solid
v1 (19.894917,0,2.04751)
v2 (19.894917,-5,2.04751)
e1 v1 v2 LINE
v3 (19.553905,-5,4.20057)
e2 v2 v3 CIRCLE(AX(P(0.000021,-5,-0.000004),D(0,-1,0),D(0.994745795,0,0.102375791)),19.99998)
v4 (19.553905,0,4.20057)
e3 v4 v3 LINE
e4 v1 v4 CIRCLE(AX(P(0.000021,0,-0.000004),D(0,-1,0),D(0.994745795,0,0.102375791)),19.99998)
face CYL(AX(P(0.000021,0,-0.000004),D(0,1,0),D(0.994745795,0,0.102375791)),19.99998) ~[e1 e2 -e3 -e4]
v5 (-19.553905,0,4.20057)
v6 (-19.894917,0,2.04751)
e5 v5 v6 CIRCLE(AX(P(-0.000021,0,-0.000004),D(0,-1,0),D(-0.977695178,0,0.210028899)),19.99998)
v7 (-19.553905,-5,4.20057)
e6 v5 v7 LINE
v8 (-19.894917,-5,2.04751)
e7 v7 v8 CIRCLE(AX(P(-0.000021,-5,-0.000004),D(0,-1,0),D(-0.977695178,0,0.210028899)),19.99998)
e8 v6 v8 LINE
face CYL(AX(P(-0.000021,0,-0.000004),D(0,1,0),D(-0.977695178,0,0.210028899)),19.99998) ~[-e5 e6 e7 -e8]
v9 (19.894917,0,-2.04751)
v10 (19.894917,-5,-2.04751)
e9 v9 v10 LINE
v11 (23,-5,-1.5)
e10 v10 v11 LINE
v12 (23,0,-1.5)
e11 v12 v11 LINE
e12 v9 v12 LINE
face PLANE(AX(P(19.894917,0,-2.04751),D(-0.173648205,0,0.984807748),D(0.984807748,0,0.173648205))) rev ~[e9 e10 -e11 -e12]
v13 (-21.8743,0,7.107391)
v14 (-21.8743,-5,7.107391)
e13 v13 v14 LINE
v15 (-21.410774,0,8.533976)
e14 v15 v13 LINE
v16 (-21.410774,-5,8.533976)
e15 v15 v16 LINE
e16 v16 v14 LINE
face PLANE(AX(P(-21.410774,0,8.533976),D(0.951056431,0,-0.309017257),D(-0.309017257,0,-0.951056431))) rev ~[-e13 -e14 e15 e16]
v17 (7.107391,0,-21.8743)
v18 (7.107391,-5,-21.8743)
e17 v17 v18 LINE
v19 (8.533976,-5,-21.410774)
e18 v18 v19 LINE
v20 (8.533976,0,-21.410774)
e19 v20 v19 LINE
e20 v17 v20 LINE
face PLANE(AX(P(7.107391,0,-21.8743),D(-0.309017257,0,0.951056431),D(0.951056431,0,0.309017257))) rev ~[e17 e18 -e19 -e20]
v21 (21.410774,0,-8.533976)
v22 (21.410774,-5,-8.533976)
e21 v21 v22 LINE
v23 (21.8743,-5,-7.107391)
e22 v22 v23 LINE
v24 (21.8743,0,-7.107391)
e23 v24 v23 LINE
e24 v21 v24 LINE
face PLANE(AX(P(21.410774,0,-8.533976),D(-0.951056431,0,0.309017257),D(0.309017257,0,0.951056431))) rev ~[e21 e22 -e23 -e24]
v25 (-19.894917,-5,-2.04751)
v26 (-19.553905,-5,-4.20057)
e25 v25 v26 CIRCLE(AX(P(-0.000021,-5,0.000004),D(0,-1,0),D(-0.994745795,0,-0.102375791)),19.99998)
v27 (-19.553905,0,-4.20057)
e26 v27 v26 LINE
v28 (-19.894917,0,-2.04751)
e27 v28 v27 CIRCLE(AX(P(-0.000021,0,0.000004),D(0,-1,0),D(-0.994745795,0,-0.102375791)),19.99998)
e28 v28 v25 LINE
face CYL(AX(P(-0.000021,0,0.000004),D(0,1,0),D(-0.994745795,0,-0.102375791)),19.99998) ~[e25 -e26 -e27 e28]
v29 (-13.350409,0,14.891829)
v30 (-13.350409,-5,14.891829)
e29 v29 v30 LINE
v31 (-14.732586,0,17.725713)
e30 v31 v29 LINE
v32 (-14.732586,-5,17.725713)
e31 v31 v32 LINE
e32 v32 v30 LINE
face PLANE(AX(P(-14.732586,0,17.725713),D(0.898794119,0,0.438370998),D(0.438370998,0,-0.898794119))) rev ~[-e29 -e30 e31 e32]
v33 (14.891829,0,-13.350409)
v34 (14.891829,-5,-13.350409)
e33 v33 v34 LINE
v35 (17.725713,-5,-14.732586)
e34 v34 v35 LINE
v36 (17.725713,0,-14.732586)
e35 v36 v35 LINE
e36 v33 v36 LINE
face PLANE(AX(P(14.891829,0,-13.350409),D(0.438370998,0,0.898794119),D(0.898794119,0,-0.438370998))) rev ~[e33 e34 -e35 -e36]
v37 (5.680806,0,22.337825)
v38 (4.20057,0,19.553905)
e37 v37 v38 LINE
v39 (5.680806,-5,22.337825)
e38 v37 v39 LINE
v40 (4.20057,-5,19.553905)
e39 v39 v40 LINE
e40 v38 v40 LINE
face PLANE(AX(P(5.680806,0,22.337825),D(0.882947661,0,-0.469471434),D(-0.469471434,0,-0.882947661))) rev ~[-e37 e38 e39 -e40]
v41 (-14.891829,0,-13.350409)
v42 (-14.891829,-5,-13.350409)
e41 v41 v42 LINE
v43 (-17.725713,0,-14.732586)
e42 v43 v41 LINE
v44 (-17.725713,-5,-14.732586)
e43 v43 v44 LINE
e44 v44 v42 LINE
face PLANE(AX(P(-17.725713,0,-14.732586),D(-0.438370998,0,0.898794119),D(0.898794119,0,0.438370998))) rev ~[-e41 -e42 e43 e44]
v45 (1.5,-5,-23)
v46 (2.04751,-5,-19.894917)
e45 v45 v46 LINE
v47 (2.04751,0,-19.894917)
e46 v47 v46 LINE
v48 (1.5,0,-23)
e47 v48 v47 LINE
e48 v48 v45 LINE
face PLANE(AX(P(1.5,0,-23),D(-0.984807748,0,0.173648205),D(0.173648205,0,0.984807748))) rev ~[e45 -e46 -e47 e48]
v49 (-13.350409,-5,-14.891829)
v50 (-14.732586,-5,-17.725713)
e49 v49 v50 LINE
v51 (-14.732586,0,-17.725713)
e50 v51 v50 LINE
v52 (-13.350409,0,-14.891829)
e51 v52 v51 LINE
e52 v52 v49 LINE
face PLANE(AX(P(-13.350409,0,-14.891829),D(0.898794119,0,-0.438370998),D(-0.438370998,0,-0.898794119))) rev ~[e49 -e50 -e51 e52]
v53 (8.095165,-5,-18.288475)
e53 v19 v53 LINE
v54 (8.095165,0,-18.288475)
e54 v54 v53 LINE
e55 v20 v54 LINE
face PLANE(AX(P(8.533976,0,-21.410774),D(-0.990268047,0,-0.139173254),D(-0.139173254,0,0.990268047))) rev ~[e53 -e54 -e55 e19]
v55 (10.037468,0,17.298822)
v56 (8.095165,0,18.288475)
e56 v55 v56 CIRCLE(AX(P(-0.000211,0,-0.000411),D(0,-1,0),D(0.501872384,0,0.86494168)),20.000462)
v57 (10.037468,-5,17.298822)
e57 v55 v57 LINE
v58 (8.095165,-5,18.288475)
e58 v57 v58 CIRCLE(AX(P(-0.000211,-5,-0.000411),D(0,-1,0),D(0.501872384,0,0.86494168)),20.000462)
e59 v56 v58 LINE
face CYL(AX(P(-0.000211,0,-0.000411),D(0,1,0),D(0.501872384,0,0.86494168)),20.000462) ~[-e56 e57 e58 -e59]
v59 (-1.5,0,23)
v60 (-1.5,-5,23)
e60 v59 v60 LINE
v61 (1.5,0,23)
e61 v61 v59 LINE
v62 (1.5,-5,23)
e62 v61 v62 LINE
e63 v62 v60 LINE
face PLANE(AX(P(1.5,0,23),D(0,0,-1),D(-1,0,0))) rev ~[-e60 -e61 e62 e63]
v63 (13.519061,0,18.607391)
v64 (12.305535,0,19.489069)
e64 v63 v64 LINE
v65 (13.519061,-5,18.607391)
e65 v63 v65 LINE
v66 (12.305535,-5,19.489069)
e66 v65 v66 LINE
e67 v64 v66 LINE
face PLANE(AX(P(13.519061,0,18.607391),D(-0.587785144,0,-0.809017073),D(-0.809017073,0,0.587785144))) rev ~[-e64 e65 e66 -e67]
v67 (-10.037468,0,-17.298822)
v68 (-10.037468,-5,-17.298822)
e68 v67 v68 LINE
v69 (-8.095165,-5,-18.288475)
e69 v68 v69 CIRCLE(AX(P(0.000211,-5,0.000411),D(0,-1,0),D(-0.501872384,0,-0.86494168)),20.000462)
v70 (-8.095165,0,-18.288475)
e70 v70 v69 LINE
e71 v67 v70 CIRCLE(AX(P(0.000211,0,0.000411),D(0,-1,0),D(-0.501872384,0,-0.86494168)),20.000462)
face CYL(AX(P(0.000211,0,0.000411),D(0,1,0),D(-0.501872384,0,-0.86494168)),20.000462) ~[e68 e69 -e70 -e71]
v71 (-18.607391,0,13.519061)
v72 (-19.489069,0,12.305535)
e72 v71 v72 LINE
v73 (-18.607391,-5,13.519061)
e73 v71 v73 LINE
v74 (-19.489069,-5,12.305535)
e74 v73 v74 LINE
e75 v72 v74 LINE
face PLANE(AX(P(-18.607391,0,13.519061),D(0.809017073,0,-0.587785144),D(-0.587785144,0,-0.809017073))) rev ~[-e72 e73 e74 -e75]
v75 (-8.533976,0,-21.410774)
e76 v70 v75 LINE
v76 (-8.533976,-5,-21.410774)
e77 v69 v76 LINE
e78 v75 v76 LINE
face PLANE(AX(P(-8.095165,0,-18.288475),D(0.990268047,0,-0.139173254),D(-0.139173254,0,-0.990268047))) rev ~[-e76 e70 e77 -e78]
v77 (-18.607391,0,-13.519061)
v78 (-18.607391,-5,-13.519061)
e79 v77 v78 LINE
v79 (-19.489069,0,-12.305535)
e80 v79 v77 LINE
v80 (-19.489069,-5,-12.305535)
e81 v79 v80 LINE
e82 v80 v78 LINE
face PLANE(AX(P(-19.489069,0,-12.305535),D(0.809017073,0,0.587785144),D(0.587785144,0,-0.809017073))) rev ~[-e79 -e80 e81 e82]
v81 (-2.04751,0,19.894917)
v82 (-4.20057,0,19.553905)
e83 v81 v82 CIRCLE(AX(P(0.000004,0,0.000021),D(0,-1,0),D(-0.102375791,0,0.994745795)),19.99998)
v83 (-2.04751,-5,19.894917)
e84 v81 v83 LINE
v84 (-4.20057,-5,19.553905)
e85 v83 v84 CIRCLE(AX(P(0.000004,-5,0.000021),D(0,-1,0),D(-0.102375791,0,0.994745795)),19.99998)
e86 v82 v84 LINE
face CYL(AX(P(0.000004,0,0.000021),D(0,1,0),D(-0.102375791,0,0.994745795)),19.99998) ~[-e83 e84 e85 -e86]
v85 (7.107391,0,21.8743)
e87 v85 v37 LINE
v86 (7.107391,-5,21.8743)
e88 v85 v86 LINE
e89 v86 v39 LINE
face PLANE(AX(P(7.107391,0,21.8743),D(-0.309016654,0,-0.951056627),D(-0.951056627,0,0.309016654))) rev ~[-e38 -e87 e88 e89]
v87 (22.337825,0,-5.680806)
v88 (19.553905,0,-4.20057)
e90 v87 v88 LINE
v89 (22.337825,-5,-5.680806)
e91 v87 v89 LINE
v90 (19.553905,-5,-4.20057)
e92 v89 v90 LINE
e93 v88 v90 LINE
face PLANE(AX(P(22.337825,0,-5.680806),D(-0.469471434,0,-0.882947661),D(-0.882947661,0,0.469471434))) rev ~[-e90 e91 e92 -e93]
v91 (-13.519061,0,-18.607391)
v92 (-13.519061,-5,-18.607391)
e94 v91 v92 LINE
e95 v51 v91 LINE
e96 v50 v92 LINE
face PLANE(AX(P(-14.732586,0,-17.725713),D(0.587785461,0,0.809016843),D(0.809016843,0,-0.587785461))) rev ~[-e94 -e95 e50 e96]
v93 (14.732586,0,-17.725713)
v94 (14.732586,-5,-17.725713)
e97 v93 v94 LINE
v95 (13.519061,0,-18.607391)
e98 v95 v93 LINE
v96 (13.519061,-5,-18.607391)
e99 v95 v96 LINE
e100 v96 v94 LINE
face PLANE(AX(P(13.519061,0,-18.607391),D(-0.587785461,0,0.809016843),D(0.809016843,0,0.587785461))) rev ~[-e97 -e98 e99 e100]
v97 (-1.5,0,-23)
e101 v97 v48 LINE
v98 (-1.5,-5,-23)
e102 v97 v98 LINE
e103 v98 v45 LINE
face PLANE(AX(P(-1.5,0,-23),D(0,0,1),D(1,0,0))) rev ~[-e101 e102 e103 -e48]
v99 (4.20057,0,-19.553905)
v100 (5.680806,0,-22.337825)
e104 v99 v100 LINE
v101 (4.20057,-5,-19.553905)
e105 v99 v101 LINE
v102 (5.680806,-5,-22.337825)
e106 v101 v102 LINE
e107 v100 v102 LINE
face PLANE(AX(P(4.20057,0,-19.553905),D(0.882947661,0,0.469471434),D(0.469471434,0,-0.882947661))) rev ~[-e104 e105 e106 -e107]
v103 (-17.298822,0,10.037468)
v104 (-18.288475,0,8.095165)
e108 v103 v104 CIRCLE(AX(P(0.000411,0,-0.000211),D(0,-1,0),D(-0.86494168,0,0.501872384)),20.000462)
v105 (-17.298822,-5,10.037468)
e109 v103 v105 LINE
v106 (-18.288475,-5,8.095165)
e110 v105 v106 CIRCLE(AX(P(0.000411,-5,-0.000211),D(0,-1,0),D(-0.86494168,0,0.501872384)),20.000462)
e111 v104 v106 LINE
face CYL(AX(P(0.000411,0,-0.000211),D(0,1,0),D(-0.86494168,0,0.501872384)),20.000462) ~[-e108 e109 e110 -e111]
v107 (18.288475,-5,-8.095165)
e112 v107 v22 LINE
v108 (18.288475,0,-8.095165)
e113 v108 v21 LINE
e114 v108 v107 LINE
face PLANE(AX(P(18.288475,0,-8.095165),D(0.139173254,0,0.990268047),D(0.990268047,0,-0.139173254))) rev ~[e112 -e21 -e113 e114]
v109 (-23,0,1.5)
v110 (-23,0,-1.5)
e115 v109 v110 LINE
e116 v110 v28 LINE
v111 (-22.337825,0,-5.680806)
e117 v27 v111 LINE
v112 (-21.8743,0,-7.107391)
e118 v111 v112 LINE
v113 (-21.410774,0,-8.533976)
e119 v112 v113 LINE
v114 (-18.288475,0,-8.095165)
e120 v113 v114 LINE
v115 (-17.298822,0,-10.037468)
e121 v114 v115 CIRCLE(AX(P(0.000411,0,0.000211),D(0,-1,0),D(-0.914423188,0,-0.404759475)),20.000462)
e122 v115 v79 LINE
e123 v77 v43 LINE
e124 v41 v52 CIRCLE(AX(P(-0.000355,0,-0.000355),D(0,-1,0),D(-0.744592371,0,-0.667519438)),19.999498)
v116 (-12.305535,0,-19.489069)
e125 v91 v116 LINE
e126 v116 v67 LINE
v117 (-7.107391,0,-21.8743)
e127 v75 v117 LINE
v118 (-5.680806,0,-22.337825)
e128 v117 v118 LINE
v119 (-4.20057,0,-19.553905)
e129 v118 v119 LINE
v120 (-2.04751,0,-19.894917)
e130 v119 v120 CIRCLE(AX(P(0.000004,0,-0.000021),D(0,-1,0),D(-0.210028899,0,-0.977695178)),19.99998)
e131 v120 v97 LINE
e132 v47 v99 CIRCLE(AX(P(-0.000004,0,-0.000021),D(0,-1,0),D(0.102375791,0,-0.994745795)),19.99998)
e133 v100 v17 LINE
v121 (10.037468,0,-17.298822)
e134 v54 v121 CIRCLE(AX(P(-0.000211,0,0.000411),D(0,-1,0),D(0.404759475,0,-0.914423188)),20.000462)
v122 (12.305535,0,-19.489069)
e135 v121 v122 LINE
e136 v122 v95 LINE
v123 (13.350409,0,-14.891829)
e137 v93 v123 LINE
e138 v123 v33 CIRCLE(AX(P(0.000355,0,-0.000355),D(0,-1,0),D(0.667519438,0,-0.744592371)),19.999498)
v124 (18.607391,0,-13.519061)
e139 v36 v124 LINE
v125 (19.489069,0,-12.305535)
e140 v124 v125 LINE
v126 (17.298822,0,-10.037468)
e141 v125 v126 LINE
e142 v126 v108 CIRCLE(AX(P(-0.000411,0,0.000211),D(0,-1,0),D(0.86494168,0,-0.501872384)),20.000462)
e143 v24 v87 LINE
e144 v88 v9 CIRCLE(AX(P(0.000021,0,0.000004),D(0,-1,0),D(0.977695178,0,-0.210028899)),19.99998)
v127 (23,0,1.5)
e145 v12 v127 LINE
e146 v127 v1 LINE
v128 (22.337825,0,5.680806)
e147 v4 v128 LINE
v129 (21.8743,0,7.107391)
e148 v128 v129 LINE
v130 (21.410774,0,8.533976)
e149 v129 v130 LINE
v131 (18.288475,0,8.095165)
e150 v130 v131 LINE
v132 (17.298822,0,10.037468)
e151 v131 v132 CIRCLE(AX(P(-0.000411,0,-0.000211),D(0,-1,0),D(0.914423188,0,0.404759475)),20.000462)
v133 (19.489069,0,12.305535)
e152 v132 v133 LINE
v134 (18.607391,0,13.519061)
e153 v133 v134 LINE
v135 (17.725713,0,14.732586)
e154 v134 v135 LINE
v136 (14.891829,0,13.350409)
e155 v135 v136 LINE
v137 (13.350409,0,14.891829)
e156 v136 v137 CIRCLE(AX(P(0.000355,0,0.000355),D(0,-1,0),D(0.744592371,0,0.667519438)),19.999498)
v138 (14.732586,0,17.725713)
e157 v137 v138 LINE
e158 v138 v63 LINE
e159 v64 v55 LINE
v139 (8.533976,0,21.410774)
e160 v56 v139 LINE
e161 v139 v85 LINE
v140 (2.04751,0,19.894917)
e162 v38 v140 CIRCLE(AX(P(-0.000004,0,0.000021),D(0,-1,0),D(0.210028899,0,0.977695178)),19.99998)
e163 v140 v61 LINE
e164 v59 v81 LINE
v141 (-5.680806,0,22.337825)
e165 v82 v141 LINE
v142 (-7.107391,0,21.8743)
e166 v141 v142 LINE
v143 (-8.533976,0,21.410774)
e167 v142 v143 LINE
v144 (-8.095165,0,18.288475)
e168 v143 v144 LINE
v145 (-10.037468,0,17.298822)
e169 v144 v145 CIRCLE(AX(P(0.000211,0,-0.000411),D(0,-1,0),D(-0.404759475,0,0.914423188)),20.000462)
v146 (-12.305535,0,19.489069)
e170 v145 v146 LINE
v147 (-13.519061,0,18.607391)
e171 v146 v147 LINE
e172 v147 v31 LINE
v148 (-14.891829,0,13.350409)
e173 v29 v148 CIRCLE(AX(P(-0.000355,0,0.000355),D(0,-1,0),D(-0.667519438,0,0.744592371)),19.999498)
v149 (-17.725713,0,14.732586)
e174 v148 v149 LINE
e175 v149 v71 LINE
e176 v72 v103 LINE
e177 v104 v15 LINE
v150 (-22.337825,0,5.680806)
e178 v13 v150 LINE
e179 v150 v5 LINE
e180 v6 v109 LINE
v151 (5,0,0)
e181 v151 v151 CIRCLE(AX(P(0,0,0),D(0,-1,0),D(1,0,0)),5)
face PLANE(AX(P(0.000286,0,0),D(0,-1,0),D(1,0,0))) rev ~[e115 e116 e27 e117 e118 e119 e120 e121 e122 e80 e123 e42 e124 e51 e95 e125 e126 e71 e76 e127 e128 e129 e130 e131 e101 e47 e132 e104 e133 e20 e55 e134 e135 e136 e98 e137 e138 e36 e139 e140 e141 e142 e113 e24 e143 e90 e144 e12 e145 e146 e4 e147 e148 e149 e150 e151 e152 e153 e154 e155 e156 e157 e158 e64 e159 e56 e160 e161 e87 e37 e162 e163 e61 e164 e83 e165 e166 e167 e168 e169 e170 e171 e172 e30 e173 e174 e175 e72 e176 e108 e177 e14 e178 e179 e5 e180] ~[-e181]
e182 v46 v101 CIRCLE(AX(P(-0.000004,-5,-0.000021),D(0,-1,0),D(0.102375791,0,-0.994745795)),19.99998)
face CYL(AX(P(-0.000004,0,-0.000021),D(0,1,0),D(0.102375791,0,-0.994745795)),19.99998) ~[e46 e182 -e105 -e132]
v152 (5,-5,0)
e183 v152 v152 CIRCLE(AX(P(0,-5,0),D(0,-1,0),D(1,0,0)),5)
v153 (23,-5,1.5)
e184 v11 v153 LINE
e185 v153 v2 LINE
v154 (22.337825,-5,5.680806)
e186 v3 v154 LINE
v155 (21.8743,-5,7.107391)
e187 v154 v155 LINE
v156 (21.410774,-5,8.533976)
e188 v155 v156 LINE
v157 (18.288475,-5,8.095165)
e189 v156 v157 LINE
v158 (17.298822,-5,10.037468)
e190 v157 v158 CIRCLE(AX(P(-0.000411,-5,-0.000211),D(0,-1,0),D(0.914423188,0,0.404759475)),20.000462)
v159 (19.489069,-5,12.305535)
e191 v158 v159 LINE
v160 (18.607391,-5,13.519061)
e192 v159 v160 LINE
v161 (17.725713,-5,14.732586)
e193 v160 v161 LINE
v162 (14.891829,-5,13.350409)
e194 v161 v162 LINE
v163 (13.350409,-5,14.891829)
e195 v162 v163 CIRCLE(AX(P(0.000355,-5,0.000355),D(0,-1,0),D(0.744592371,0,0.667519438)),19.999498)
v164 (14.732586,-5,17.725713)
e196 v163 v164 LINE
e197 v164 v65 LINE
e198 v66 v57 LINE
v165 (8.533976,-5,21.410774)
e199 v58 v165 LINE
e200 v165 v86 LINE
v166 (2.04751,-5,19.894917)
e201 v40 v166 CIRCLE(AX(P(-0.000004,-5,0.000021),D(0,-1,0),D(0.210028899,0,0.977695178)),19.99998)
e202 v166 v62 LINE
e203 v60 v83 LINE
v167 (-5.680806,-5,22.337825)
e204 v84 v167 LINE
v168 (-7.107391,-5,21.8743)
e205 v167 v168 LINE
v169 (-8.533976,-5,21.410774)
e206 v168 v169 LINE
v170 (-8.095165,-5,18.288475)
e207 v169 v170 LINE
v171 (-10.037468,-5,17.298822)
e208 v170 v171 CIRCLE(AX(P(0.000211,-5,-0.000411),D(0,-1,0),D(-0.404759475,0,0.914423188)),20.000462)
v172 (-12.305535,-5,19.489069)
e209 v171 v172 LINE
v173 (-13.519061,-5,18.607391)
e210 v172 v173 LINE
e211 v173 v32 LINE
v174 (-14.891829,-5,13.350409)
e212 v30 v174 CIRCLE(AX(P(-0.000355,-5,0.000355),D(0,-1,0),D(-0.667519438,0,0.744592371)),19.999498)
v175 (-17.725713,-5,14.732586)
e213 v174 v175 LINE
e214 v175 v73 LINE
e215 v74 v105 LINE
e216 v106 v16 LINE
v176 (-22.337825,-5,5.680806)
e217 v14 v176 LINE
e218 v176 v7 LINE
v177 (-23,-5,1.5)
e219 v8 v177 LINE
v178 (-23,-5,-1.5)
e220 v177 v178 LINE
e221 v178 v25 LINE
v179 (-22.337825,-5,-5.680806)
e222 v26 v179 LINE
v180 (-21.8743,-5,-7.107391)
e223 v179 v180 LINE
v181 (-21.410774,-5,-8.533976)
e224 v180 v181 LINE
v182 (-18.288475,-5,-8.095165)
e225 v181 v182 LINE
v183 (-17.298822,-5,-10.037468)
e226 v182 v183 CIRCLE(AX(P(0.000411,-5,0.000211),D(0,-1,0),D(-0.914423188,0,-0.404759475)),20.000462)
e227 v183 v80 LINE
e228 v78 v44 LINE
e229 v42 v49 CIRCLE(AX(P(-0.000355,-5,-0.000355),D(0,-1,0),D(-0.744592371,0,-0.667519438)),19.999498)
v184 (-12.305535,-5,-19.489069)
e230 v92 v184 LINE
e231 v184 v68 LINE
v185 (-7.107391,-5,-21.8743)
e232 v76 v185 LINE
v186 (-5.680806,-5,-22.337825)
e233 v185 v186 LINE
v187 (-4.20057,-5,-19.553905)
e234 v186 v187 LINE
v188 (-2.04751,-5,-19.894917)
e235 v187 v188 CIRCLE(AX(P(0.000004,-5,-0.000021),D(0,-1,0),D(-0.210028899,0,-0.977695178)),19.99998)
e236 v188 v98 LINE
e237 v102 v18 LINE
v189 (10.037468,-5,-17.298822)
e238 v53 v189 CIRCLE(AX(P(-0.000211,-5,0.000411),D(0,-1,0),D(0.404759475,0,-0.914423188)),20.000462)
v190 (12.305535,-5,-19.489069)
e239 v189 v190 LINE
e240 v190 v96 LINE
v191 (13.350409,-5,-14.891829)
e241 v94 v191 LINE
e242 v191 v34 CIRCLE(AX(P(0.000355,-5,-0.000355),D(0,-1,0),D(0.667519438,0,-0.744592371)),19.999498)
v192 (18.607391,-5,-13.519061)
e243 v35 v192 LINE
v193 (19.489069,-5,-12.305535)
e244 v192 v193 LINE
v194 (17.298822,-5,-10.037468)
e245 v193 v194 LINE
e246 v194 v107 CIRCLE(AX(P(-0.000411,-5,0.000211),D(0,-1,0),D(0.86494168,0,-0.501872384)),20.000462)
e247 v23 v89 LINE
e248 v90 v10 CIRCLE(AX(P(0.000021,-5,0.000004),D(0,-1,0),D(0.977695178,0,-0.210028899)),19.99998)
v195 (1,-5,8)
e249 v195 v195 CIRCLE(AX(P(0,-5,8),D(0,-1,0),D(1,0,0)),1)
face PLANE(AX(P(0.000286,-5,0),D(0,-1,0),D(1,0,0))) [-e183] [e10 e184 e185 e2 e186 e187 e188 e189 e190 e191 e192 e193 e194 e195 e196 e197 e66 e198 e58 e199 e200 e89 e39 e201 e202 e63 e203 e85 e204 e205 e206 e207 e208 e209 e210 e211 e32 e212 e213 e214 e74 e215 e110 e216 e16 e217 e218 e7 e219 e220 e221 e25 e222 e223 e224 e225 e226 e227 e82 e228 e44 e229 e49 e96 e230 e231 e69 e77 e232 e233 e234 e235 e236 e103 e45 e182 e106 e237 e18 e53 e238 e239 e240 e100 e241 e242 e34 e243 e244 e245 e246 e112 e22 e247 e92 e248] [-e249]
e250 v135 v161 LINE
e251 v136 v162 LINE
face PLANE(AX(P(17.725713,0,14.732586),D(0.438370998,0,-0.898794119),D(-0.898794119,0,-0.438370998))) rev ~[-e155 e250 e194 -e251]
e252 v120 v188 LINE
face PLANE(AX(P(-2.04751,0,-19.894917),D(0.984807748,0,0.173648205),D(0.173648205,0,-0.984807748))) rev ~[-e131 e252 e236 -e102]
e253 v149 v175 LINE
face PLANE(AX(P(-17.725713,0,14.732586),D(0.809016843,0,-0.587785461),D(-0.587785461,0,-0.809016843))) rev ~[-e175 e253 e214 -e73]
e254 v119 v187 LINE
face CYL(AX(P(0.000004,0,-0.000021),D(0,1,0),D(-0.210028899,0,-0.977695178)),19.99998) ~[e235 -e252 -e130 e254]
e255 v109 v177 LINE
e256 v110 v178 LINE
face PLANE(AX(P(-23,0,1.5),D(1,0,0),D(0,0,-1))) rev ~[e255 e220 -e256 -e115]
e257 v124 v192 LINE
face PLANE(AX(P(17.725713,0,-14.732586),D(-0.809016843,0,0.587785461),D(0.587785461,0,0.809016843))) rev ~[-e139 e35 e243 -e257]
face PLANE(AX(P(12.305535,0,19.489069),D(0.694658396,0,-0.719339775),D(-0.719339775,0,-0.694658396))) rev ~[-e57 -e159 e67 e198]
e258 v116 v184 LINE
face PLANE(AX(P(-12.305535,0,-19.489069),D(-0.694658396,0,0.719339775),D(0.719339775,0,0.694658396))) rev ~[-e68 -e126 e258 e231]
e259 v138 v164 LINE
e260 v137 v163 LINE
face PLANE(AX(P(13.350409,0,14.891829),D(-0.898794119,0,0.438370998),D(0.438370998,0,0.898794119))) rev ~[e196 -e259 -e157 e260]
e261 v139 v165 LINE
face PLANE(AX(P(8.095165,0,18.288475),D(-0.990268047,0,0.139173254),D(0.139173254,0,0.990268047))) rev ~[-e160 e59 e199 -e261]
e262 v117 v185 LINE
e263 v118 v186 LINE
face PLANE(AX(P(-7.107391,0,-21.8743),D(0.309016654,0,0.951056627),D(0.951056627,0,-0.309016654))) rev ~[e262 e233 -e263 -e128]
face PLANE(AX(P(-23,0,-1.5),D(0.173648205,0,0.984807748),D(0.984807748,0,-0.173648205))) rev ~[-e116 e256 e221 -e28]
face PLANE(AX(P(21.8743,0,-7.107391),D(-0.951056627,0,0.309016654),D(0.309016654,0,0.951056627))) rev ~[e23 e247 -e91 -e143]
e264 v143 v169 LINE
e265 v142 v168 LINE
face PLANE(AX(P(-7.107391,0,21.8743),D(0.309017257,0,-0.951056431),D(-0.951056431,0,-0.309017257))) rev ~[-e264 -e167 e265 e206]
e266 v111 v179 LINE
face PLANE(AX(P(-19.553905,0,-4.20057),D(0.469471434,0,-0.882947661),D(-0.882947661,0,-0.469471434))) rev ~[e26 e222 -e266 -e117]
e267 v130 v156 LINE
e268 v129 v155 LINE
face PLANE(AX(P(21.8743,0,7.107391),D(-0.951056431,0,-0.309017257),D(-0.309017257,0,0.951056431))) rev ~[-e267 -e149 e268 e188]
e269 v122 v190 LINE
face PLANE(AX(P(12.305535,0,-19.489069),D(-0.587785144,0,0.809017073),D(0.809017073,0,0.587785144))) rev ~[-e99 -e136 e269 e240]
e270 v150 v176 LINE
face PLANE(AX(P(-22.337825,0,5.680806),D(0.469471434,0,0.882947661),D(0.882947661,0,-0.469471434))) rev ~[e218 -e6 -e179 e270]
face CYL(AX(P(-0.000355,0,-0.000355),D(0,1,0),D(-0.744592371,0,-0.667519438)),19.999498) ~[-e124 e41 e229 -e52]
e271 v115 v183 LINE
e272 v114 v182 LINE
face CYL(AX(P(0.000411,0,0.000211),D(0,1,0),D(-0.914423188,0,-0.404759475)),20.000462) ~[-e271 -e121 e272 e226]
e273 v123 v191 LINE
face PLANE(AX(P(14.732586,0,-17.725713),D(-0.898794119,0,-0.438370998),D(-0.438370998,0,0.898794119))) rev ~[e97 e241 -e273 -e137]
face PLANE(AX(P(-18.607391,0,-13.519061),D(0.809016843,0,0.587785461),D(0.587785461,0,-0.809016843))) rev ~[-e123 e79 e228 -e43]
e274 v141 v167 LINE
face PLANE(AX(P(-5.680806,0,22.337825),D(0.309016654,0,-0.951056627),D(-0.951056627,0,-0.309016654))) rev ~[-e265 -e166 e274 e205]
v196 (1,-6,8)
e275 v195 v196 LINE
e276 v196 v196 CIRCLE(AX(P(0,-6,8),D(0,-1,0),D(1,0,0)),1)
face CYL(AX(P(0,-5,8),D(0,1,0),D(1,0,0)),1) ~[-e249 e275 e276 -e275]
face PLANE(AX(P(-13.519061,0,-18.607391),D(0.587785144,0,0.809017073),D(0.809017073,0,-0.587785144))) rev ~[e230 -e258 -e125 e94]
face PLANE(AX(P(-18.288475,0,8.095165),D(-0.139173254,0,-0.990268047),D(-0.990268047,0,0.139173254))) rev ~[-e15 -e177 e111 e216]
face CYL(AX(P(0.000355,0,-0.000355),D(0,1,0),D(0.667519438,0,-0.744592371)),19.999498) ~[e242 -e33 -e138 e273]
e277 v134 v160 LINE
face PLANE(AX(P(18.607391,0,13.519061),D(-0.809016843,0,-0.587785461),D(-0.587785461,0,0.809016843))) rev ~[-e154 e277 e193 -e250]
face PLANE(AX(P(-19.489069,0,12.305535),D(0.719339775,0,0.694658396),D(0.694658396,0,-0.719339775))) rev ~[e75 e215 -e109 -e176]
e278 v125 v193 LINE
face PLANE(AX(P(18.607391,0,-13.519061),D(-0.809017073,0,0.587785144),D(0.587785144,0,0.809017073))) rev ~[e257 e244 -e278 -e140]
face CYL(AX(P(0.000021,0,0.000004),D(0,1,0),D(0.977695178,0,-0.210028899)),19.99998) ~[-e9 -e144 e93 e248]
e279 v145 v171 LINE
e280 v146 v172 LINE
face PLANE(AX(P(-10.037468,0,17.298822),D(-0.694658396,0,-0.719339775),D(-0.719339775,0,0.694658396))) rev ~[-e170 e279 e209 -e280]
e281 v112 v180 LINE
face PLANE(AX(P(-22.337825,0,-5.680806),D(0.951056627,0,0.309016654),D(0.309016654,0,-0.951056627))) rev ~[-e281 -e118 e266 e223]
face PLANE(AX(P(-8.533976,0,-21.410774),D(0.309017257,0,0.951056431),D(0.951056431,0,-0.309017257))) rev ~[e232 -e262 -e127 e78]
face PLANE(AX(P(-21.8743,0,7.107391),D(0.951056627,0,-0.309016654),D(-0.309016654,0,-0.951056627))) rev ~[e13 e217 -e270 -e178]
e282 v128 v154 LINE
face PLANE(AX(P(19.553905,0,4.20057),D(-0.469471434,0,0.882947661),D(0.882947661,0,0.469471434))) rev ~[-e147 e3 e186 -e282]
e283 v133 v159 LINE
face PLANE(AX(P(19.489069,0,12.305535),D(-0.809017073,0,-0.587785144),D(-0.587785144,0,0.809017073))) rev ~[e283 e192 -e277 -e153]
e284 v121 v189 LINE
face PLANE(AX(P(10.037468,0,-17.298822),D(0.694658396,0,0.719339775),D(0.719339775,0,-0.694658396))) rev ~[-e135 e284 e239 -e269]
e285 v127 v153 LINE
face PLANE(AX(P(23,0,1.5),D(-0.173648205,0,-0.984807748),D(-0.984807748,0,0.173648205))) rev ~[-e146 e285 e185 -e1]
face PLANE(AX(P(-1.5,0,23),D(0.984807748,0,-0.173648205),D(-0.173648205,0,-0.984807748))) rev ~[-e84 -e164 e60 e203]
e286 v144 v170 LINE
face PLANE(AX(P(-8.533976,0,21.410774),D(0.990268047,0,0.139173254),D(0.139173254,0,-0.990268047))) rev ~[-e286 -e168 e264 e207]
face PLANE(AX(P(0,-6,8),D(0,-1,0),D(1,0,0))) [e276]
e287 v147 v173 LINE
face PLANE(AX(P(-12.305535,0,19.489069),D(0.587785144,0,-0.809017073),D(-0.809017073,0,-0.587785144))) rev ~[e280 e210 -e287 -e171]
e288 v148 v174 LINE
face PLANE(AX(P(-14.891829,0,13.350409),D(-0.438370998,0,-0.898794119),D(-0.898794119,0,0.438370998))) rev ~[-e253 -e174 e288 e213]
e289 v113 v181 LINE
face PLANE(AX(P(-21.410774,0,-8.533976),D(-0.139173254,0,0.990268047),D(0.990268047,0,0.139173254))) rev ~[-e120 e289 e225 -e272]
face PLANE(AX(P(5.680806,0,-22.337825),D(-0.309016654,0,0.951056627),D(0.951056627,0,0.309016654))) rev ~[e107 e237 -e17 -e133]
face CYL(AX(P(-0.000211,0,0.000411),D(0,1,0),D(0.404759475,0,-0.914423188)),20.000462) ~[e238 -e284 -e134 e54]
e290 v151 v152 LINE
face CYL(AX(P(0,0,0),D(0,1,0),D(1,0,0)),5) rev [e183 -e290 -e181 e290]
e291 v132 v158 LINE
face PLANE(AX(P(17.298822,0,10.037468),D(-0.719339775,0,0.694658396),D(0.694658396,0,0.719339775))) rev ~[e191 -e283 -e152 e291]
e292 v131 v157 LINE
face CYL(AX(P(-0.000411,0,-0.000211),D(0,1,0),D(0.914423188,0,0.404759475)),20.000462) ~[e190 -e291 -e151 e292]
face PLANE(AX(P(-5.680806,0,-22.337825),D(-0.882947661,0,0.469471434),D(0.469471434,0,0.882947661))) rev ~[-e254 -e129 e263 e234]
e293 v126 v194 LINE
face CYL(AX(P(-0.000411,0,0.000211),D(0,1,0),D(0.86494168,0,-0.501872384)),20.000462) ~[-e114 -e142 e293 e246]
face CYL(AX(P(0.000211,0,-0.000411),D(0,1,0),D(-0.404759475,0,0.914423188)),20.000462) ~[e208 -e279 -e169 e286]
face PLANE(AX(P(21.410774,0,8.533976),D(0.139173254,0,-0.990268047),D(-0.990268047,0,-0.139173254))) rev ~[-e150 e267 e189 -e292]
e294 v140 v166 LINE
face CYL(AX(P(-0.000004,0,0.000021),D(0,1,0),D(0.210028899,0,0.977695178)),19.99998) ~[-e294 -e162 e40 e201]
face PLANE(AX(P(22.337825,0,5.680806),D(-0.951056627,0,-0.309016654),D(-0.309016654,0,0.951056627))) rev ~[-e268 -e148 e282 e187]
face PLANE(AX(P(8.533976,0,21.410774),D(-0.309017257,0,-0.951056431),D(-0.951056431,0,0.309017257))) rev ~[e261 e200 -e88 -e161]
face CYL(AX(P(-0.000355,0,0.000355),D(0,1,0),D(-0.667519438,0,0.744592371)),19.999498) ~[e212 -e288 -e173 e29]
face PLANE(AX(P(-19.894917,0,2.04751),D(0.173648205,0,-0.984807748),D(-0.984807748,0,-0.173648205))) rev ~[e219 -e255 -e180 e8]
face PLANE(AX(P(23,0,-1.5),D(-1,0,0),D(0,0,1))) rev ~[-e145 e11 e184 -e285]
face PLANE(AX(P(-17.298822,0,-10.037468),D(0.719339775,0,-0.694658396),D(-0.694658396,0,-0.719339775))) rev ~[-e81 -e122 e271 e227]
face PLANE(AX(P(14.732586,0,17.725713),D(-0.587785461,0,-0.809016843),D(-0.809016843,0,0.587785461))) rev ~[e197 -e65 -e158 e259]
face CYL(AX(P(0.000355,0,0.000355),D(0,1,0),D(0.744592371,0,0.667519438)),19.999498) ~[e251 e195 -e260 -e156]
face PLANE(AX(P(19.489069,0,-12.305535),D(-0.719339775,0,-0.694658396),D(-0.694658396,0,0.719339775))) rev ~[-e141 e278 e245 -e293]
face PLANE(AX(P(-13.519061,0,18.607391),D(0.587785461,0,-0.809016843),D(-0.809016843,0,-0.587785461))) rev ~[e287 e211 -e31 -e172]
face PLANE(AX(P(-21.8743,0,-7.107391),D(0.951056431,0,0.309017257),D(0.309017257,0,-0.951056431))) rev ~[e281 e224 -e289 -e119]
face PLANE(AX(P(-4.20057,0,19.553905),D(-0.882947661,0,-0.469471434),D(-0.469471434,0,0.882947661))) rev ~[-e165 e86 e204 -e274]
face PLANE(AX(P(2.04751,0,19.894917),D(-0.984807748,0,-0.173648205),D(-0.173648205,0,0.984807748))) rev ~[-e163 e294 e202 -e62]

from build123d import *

# Parameters (mm, degrees)
F0_R     = 5
F1_DEPTH = 5
F2_R     = 1
F3_DEPTH = 1


with BuildPart() as f1:
    # F0 (on Front) → F1 (new body)
    with BuildSketch(Plane.XZ):
        with BuildLine():
            ThreePointArc((19.894917, -2.04751), (19.973712, -1.025102), (20, 0))
            ThreePointArc((20, 0), (19.973712, 1.025102), (19.894917, 2.04751))
            ThreePointArc((19.894917, 2.04751), (19.753767, 3.128689), (19.553905, 4.20057))
            ThreePointArc((19.553905, 4.20057), (19.02113, 6.18034), (18.288475, 8.095165))
            ThreePointArc((18.288475, 8.095165), (17.82013, 9.07981), (17.298822, 10.037468))
            ThreePointArc((17.298822, 10.037468), (16.18034, 11.755705), (14.891829, 13.350409))
            ThreePointArc((14.891829, 13.350409), (14.142136, 14.142136), (13.350409, 14.891829))
            ThreePointArc((13.350409, 14.891829), (11.755705, 16.18034), (10.037468, 17.298822))
            ThreePointArc((10.037468, 17.298822), (9.07981, 17.82013), (8.095165, 18.288475))
            ThreePointArc((8.095165, 18.288475), (6.18034, 19.02113), (4.20057, 19.553905))
            ThreePointArc((4.20057, 19.553905), (3.128689, 19.753767), (2.04751, 19.894917))
            ThreePointArc((2.04751, 19.894917), (0, 20), (-2.04751, 19.894917))
            ThreePointArc((-2.04751, 19.894917), (-3.128689, 19.753767), (-4.20057, 19.553905))
            ThreePointArc((-4.20057, 19.553905), (-6.18034, 19.02113), (-8.095165, 18.288475))
            ThreePointArc((-8.095165, 18.288475), (-9.07981, 17.82013), (-10.037468, 17.298822))
            ThreePointArc((-10.037468, 17.298822), (-11.755705, 16.18034), (-13.350409, 14.891829))
            ThreePointArc((-13.350409, 14.891829), (-14.142136, 14.142136), (-14.891829, 13.350409))
            ThreePointArc((-14.891829, 13.350409), (-16.18034, 11.755705), (-17.298822, 10.037468))
            ThreePointArc((-17.298822, 10.037468), (-17.82013, 9.07981), (-18.288475, 8.095165))
            ThreePointArc((-18.288475, 8.095165), (-19.02113, 6.18034), (-19.553905, 4.20057))
            ThreePointArc((-19.553905, 4.20057), (-19.753767, 3.128689), (-19.894917, 2.04751))
            ThreePointArc((-19.894917, 2.04751), (-20, 0), (-19.894917, -2.04751))
            ThreePointArc((-19.894917, -2.04751), (-19.753767, -3.128689), (-19.553905, -4.20057))
            ThreePointArc((-19.553905, -4.20057), (-19.02113, -6.18034), (-18.288475, -8.095165))
            ThreePointArc((-18.288475, -8.095165), (-17.82013, -9.07981), (-17.298822, -10.037468))
            ThreePointArc((-17.298822, -10.037468), (-16.18034, -11.755705), (-14.891829, -13.350409))
            ThreePointArc((-14.891829, -13.350409), (-14.142136, -14.142136), (-13.350409, -14.891829))
            ThreePointArc((-13.350409, -14.891829), (-11.755705, -16.18034), (-10.037468, -17.298822))
            ThreePointArc((-10.037468, -17.298822), (-9.07981, -17.82013), (-8.095165, -18.288475))
            ThreePointArc((-8.095165, -18.288475), (-6.18034, -19.02113), (-4.20057, -19.553905))
            ThreePointArc((-4.20057, -19.553905), (-3.128689, -19.753767), (-2.04751, -19.894917))
            ThreePointArc((-2.04751, -19.894917), (0, -20), (2.04751, -19.894917))
            ThreePointArc((2.04751, -19.894917), (3.128689, -19.753767), (4.20057, -19.553905))
            ThreePointArc((4.20057, -19.553905), (6.18034, -19.02113), (8.095165, -18.288475))
            ThreePointArc((8.095165, -18.288475), (9.07981, -17.82013), (10.037468, -17.298822))
            ThreePointArc((10.037468, -17.298822), (11.755705, -16.18034), (13.350409, -14.891829))
            ThreePointArc((13.350409, -14.891829), (14.142136, -14.142136), (14.891829, -13.350409))
            ThreePointArc((14.891829, -13.350409), (16.18034, -11.755705), (17.298822, -10.037468))
            ThreePointArc((17.298822, -10.037468), (17.82013, -9.07981), (18.288475, -8.095165))
            ThreePointArc((18.288475, -8.095165), (19.02113, -6.18034), (19.553905, -4.20057))
            ThreePointArc((19.553905, -4.20057), (19.753767, -3.128689), (19.894917, -2.04751))
        make_face()
        Circle(F0_R, mode=Mode.SUBTRACT)
        with BuildLine():
            ThreePointArc((19.894917, 2.04751), (19.973712, 1.025102), (20, 0))
            ThreePointArc((20, 0), (19.973712, -1.025102), (19.894917, -2.04751))
            Line((19.894917, -2.04751), (23, -1.5))
            Line((23, -1.5), (23, 0))
            Line((23, 0), (23, 1.5))
            Line((23, 1.5), (19.894917, 2.04751))
        make_face()
        with BuildLine():
            ThreePointArc((18.288475, 8.095165), (19.02113, 6.18034), (19.553905, 4.20057))
            Line((19.553905, 4.20057), (22.337825, 5.680806))
            Line((22.337825, 5.680806), (21.8743, 7.107391))
            Line((21.8743, 7.107391), (21.410774, 8.533976))
            Line((21.410774, 8.533976), (18.288475, 8.095165))
        make_face()
        with BuildLine():
            Line((22.337825, -5.680806), (19.553905, -4.20057))
            ThreePointArc((19.553905, -4.20057), (19.02113, -6.18034), (18.288475, -8.095165))
            Line((18.288475, -8.095165), (21.410774, -8.533976))
            Line((21.410774, -8.533976), (21.8743, -7.107391))
            Line((21.8743, -7.107391), (22.337825, -5.680806))
        make_face()
        with BuildLine():
            ThreePointArc((14.891829, 13.350409), (16.18034, 11.755705), (17.298822, 10.037468))
            Line((17.298822, 10.037468), (19.489069, 12.305535))
            Line((19.489069, 12.305535), (18.607391, 13.519061))
            Line((18.607391, 13.519061), (17.725713, 14.732586))
            Line((17.725713, 14.732586), (14.891829, 13.350409))
        make_face()
        with BuildLine():
            Line((19.489069, -12.305535), (17.298822, -10.037468))
            ThreePointArc((17.298822, -10.037468), (16.18034, -11.755705), (14.891829, -13.350409))
            Line((14.891829, -13.350409), (17.725713, -14.732586))
            Line((17.725713, -14.732586), (18.607391, -13.519061))
            Line((18.607391, -13.519061), (19.489069, -12.305535))
        make_face()
        with BuildLine():
            ThreePointArc((10.037468, 17.298822), (11.755705, 16.18034), (13.350409, 14.891829))
            Line((13.350409, 14.891829), (14.732586, 17.725713))
            Line((14.732586, 17.725713), (13.519061, 18.607391))
            Line((13.519061, 18.607391), (12.305535, 19.489069))
            Line((12.305535, 19.489069), (10.037468, 17.298822))
        make_face()
        with BuildLine():
            Line((14.732586, -17.725713), (13.350409, -14.891829))
            ThreePointArc((13.350409, -14.891829), (11.755705, -16.18034), (10.037468, -17.298822))
            Line((10.037468, -17.298822), (12.305535, -19.489069))
            Line((12.305535, -19.489069), (13.519061, -18.607391))
            Line((13.519061, -18.607391), (14.732586, -17.725713))
        make_face()
        with BuildLine():
            ThreePointArc((4.20057, 19.553905), (6.18034, 19.02113), (8.095165, 18.288475))
            Line((8.095165, 18.288475), (8.533976, 21.410774))
            Line((8.533976, 21.410774), (7.107391, 21.8743))
            Line((7.107391, 21.8743), (5.680806, 22.337825))
            Line((5.680806, 22.337825), (4.20057, 19.553905))
        make_face()
        with BuildLine():
            Line((8.533976, -21.410774), (8.095165, -18.288475))
            ThreePointArc((8.095165, -18.288475), (6.18034, -19.02113), (4.20057, -19.553905))
            Line((4.20057, -19.553905), (5.680806, -22.337825))
            Line((5.680806, -22.337825), (7.107391, -21.8743))
            Line((7.107391, -21.8743), (8.533976, -21.410774))
        make_face()
        with BuildLine():
            ThreePointArc((-2.04751, 19.894917), (0, 20), (2.04751, 19.894917))
            Line((2.04751, 19.894917), (1.5, 23))
            Line((1.5, 23), (0, 23))
            Line((0, 23), (-1.5, 23))
            Line((-1.5, 23), (-2.04751, 19.894917))
        make_face()
        with BuildLine():
            Line((1.5, -23), (2.04751, -19.894917))
            ThreePointArc((2.04751, -19.894917), (0, -20), (-2.04751, -19.894917))
            Line((-2.04751, -19.894917), (-1.5, -23))
            Line((-1.5, -23), (0, -23))
            Line((0, -23), (1.5, -23))
        make_face()
        with BuildLine():
            ThreePointArc((-8.095165, 18.288475), (-6.18034, 19.02113), (-4.20057, 19.553905))
            Line((-4.20057, 19.553905), (-5.680806, 22.337825))
            Line((-5.680806, 22.337825), (-7.107391, 21.8743))
            Line((-7.107391, 21.8743), (-8.533976, 21.410774))
            Line((-8.533976, 21.410774), (-8.095165, 18.288475))
        make_face()
        with BuildLine():
            Line((-5.680806, -22.337825), (-4.20057, -19.553905))
            ThreePointArc((-4.20057, -19.553905), (-6.18034, -19.02113), (-8.095165, -18.288475))
            Line((-8.095165, -18.288475), (-8.533976, -21.410774))
            Line((-8.533976, -21.410774), (-7.107391, -21.8743))
            Line((-7.107391, -21.8743), (-5.680806, -22.337825))
        make_face()
        with BuildLine():
            ThreePointArc((-13.350409, 14.891829), (-11.755705, 16.18034), (-10.037468, 17.298822))
            Line((-10.037468, 17.298822), (-12.305535, 19.489069))
            Line((-12.305535, 19.489069), (-13.519061, 18.607391))
            Line((-13.519061, 18.607391), (-14.732586, 17.725713))
            Line((-14.732586, 17.725713), (-13.350409, 14.891829))
        make_face()
        with BuildLine():
            Line((-12.305535, -19.489069), (-10.037468, -17.298822))
            ThreePointArc((-10.037468, -17.298822), (-11.755705, -16.18034), (-13.350409, -14.891829))
            Line((-13.350409, -14.891829), (-14.732586, -17.725713))
            Line((-14.732586, -17.725713), (-13.519061, -18.607391))
            Line((-13.519061, -18.607391), (-12.305535, -19.489069))
        make_face()
        with BuildLine():
            ThreePointArc((-17.298822, 10.037468), (-16.18034, 11.755705), (-14.891829, 13.350409))
            Line((-14.891829, 13.350409), (-17.725713, 14.732586))
            Line((-17.725713, 14.732586), (-18.607391, 13.519061))
            Line((-18.607391, 13.519061), (-19.489069, 12.305535))
            Line((-19.489069, 12.305535), (-17.298822, 10.037468))
        make_face()
        with BuildLine():
            Line((-17.725713, -14.732586), (-14.891829, -13.350409))
            ThreePointArc((-14.891829, -13.350409), (-16.18034, -11.755705), (-17.298822, -10.037468))
            Line((-17.298822, -10.037468), (-19.489069, -12.305535))
            Line((-19.489069, -12.305535), (-18.607391, -13.519061))
            Line((-18.607391, -13.519061), (-17.725713, -14.732586))
        make_face()
        with BuildLine():
            ThreePointArc((-19.553905, 4.20057), (-19.02113, 6.18034), (-18.288475, 8.095165))
            Line((-18.288475, 8.095165), (-21.410774, 8.533976))
            Line((-21.410774, 8.533976), (-21.8743, 7.107391))
            Line((-21.8743, 7.107391), (-22.337825, 5.680806))
            Line((-22.337825, 5.680806), (-19.553905, 4.20057))
        make_face()
        with BuildLine():
            Line((-21.410774, -8.533976), (-18.288475, -8.095165))
            ThreePointArc((-18.288475, -8.095165), (-19.02113, -6.18034), (-19.553905, -4.20057))
            Line((-19.553905, -4.20057), (-22.337825, -5.680806))
            Line((-22.337825, -5.680806), (-21.8743, -7.107391))
            Line((-21.8743, -7.107391), (-21.410774, -8.533976))
        make_face()
        with BuildLine():
            ThreePointArc((-19.894917, -2.04751), (-20, 0), (-19.894917, 2.04751))
            Line((-19.894917, 2.04751), (-23, 1.5))
            Line((-23, 1.5), (-23, 0))
            Line((-23, 0), (-23, -1.5))
            Line((-23, -1.5), (-19.894917, -2.04751))
        make_face()
    extrude(amount=F1_DEPTH)

    # F2 (on face) → F3 (join)
    with BuildSketch(Plane.XZ.offset(5)):
        with Locations((0, 8)):
            Circle(F2_R)
    extrude(amount=F3_DEPTH)


solid = f1.part
